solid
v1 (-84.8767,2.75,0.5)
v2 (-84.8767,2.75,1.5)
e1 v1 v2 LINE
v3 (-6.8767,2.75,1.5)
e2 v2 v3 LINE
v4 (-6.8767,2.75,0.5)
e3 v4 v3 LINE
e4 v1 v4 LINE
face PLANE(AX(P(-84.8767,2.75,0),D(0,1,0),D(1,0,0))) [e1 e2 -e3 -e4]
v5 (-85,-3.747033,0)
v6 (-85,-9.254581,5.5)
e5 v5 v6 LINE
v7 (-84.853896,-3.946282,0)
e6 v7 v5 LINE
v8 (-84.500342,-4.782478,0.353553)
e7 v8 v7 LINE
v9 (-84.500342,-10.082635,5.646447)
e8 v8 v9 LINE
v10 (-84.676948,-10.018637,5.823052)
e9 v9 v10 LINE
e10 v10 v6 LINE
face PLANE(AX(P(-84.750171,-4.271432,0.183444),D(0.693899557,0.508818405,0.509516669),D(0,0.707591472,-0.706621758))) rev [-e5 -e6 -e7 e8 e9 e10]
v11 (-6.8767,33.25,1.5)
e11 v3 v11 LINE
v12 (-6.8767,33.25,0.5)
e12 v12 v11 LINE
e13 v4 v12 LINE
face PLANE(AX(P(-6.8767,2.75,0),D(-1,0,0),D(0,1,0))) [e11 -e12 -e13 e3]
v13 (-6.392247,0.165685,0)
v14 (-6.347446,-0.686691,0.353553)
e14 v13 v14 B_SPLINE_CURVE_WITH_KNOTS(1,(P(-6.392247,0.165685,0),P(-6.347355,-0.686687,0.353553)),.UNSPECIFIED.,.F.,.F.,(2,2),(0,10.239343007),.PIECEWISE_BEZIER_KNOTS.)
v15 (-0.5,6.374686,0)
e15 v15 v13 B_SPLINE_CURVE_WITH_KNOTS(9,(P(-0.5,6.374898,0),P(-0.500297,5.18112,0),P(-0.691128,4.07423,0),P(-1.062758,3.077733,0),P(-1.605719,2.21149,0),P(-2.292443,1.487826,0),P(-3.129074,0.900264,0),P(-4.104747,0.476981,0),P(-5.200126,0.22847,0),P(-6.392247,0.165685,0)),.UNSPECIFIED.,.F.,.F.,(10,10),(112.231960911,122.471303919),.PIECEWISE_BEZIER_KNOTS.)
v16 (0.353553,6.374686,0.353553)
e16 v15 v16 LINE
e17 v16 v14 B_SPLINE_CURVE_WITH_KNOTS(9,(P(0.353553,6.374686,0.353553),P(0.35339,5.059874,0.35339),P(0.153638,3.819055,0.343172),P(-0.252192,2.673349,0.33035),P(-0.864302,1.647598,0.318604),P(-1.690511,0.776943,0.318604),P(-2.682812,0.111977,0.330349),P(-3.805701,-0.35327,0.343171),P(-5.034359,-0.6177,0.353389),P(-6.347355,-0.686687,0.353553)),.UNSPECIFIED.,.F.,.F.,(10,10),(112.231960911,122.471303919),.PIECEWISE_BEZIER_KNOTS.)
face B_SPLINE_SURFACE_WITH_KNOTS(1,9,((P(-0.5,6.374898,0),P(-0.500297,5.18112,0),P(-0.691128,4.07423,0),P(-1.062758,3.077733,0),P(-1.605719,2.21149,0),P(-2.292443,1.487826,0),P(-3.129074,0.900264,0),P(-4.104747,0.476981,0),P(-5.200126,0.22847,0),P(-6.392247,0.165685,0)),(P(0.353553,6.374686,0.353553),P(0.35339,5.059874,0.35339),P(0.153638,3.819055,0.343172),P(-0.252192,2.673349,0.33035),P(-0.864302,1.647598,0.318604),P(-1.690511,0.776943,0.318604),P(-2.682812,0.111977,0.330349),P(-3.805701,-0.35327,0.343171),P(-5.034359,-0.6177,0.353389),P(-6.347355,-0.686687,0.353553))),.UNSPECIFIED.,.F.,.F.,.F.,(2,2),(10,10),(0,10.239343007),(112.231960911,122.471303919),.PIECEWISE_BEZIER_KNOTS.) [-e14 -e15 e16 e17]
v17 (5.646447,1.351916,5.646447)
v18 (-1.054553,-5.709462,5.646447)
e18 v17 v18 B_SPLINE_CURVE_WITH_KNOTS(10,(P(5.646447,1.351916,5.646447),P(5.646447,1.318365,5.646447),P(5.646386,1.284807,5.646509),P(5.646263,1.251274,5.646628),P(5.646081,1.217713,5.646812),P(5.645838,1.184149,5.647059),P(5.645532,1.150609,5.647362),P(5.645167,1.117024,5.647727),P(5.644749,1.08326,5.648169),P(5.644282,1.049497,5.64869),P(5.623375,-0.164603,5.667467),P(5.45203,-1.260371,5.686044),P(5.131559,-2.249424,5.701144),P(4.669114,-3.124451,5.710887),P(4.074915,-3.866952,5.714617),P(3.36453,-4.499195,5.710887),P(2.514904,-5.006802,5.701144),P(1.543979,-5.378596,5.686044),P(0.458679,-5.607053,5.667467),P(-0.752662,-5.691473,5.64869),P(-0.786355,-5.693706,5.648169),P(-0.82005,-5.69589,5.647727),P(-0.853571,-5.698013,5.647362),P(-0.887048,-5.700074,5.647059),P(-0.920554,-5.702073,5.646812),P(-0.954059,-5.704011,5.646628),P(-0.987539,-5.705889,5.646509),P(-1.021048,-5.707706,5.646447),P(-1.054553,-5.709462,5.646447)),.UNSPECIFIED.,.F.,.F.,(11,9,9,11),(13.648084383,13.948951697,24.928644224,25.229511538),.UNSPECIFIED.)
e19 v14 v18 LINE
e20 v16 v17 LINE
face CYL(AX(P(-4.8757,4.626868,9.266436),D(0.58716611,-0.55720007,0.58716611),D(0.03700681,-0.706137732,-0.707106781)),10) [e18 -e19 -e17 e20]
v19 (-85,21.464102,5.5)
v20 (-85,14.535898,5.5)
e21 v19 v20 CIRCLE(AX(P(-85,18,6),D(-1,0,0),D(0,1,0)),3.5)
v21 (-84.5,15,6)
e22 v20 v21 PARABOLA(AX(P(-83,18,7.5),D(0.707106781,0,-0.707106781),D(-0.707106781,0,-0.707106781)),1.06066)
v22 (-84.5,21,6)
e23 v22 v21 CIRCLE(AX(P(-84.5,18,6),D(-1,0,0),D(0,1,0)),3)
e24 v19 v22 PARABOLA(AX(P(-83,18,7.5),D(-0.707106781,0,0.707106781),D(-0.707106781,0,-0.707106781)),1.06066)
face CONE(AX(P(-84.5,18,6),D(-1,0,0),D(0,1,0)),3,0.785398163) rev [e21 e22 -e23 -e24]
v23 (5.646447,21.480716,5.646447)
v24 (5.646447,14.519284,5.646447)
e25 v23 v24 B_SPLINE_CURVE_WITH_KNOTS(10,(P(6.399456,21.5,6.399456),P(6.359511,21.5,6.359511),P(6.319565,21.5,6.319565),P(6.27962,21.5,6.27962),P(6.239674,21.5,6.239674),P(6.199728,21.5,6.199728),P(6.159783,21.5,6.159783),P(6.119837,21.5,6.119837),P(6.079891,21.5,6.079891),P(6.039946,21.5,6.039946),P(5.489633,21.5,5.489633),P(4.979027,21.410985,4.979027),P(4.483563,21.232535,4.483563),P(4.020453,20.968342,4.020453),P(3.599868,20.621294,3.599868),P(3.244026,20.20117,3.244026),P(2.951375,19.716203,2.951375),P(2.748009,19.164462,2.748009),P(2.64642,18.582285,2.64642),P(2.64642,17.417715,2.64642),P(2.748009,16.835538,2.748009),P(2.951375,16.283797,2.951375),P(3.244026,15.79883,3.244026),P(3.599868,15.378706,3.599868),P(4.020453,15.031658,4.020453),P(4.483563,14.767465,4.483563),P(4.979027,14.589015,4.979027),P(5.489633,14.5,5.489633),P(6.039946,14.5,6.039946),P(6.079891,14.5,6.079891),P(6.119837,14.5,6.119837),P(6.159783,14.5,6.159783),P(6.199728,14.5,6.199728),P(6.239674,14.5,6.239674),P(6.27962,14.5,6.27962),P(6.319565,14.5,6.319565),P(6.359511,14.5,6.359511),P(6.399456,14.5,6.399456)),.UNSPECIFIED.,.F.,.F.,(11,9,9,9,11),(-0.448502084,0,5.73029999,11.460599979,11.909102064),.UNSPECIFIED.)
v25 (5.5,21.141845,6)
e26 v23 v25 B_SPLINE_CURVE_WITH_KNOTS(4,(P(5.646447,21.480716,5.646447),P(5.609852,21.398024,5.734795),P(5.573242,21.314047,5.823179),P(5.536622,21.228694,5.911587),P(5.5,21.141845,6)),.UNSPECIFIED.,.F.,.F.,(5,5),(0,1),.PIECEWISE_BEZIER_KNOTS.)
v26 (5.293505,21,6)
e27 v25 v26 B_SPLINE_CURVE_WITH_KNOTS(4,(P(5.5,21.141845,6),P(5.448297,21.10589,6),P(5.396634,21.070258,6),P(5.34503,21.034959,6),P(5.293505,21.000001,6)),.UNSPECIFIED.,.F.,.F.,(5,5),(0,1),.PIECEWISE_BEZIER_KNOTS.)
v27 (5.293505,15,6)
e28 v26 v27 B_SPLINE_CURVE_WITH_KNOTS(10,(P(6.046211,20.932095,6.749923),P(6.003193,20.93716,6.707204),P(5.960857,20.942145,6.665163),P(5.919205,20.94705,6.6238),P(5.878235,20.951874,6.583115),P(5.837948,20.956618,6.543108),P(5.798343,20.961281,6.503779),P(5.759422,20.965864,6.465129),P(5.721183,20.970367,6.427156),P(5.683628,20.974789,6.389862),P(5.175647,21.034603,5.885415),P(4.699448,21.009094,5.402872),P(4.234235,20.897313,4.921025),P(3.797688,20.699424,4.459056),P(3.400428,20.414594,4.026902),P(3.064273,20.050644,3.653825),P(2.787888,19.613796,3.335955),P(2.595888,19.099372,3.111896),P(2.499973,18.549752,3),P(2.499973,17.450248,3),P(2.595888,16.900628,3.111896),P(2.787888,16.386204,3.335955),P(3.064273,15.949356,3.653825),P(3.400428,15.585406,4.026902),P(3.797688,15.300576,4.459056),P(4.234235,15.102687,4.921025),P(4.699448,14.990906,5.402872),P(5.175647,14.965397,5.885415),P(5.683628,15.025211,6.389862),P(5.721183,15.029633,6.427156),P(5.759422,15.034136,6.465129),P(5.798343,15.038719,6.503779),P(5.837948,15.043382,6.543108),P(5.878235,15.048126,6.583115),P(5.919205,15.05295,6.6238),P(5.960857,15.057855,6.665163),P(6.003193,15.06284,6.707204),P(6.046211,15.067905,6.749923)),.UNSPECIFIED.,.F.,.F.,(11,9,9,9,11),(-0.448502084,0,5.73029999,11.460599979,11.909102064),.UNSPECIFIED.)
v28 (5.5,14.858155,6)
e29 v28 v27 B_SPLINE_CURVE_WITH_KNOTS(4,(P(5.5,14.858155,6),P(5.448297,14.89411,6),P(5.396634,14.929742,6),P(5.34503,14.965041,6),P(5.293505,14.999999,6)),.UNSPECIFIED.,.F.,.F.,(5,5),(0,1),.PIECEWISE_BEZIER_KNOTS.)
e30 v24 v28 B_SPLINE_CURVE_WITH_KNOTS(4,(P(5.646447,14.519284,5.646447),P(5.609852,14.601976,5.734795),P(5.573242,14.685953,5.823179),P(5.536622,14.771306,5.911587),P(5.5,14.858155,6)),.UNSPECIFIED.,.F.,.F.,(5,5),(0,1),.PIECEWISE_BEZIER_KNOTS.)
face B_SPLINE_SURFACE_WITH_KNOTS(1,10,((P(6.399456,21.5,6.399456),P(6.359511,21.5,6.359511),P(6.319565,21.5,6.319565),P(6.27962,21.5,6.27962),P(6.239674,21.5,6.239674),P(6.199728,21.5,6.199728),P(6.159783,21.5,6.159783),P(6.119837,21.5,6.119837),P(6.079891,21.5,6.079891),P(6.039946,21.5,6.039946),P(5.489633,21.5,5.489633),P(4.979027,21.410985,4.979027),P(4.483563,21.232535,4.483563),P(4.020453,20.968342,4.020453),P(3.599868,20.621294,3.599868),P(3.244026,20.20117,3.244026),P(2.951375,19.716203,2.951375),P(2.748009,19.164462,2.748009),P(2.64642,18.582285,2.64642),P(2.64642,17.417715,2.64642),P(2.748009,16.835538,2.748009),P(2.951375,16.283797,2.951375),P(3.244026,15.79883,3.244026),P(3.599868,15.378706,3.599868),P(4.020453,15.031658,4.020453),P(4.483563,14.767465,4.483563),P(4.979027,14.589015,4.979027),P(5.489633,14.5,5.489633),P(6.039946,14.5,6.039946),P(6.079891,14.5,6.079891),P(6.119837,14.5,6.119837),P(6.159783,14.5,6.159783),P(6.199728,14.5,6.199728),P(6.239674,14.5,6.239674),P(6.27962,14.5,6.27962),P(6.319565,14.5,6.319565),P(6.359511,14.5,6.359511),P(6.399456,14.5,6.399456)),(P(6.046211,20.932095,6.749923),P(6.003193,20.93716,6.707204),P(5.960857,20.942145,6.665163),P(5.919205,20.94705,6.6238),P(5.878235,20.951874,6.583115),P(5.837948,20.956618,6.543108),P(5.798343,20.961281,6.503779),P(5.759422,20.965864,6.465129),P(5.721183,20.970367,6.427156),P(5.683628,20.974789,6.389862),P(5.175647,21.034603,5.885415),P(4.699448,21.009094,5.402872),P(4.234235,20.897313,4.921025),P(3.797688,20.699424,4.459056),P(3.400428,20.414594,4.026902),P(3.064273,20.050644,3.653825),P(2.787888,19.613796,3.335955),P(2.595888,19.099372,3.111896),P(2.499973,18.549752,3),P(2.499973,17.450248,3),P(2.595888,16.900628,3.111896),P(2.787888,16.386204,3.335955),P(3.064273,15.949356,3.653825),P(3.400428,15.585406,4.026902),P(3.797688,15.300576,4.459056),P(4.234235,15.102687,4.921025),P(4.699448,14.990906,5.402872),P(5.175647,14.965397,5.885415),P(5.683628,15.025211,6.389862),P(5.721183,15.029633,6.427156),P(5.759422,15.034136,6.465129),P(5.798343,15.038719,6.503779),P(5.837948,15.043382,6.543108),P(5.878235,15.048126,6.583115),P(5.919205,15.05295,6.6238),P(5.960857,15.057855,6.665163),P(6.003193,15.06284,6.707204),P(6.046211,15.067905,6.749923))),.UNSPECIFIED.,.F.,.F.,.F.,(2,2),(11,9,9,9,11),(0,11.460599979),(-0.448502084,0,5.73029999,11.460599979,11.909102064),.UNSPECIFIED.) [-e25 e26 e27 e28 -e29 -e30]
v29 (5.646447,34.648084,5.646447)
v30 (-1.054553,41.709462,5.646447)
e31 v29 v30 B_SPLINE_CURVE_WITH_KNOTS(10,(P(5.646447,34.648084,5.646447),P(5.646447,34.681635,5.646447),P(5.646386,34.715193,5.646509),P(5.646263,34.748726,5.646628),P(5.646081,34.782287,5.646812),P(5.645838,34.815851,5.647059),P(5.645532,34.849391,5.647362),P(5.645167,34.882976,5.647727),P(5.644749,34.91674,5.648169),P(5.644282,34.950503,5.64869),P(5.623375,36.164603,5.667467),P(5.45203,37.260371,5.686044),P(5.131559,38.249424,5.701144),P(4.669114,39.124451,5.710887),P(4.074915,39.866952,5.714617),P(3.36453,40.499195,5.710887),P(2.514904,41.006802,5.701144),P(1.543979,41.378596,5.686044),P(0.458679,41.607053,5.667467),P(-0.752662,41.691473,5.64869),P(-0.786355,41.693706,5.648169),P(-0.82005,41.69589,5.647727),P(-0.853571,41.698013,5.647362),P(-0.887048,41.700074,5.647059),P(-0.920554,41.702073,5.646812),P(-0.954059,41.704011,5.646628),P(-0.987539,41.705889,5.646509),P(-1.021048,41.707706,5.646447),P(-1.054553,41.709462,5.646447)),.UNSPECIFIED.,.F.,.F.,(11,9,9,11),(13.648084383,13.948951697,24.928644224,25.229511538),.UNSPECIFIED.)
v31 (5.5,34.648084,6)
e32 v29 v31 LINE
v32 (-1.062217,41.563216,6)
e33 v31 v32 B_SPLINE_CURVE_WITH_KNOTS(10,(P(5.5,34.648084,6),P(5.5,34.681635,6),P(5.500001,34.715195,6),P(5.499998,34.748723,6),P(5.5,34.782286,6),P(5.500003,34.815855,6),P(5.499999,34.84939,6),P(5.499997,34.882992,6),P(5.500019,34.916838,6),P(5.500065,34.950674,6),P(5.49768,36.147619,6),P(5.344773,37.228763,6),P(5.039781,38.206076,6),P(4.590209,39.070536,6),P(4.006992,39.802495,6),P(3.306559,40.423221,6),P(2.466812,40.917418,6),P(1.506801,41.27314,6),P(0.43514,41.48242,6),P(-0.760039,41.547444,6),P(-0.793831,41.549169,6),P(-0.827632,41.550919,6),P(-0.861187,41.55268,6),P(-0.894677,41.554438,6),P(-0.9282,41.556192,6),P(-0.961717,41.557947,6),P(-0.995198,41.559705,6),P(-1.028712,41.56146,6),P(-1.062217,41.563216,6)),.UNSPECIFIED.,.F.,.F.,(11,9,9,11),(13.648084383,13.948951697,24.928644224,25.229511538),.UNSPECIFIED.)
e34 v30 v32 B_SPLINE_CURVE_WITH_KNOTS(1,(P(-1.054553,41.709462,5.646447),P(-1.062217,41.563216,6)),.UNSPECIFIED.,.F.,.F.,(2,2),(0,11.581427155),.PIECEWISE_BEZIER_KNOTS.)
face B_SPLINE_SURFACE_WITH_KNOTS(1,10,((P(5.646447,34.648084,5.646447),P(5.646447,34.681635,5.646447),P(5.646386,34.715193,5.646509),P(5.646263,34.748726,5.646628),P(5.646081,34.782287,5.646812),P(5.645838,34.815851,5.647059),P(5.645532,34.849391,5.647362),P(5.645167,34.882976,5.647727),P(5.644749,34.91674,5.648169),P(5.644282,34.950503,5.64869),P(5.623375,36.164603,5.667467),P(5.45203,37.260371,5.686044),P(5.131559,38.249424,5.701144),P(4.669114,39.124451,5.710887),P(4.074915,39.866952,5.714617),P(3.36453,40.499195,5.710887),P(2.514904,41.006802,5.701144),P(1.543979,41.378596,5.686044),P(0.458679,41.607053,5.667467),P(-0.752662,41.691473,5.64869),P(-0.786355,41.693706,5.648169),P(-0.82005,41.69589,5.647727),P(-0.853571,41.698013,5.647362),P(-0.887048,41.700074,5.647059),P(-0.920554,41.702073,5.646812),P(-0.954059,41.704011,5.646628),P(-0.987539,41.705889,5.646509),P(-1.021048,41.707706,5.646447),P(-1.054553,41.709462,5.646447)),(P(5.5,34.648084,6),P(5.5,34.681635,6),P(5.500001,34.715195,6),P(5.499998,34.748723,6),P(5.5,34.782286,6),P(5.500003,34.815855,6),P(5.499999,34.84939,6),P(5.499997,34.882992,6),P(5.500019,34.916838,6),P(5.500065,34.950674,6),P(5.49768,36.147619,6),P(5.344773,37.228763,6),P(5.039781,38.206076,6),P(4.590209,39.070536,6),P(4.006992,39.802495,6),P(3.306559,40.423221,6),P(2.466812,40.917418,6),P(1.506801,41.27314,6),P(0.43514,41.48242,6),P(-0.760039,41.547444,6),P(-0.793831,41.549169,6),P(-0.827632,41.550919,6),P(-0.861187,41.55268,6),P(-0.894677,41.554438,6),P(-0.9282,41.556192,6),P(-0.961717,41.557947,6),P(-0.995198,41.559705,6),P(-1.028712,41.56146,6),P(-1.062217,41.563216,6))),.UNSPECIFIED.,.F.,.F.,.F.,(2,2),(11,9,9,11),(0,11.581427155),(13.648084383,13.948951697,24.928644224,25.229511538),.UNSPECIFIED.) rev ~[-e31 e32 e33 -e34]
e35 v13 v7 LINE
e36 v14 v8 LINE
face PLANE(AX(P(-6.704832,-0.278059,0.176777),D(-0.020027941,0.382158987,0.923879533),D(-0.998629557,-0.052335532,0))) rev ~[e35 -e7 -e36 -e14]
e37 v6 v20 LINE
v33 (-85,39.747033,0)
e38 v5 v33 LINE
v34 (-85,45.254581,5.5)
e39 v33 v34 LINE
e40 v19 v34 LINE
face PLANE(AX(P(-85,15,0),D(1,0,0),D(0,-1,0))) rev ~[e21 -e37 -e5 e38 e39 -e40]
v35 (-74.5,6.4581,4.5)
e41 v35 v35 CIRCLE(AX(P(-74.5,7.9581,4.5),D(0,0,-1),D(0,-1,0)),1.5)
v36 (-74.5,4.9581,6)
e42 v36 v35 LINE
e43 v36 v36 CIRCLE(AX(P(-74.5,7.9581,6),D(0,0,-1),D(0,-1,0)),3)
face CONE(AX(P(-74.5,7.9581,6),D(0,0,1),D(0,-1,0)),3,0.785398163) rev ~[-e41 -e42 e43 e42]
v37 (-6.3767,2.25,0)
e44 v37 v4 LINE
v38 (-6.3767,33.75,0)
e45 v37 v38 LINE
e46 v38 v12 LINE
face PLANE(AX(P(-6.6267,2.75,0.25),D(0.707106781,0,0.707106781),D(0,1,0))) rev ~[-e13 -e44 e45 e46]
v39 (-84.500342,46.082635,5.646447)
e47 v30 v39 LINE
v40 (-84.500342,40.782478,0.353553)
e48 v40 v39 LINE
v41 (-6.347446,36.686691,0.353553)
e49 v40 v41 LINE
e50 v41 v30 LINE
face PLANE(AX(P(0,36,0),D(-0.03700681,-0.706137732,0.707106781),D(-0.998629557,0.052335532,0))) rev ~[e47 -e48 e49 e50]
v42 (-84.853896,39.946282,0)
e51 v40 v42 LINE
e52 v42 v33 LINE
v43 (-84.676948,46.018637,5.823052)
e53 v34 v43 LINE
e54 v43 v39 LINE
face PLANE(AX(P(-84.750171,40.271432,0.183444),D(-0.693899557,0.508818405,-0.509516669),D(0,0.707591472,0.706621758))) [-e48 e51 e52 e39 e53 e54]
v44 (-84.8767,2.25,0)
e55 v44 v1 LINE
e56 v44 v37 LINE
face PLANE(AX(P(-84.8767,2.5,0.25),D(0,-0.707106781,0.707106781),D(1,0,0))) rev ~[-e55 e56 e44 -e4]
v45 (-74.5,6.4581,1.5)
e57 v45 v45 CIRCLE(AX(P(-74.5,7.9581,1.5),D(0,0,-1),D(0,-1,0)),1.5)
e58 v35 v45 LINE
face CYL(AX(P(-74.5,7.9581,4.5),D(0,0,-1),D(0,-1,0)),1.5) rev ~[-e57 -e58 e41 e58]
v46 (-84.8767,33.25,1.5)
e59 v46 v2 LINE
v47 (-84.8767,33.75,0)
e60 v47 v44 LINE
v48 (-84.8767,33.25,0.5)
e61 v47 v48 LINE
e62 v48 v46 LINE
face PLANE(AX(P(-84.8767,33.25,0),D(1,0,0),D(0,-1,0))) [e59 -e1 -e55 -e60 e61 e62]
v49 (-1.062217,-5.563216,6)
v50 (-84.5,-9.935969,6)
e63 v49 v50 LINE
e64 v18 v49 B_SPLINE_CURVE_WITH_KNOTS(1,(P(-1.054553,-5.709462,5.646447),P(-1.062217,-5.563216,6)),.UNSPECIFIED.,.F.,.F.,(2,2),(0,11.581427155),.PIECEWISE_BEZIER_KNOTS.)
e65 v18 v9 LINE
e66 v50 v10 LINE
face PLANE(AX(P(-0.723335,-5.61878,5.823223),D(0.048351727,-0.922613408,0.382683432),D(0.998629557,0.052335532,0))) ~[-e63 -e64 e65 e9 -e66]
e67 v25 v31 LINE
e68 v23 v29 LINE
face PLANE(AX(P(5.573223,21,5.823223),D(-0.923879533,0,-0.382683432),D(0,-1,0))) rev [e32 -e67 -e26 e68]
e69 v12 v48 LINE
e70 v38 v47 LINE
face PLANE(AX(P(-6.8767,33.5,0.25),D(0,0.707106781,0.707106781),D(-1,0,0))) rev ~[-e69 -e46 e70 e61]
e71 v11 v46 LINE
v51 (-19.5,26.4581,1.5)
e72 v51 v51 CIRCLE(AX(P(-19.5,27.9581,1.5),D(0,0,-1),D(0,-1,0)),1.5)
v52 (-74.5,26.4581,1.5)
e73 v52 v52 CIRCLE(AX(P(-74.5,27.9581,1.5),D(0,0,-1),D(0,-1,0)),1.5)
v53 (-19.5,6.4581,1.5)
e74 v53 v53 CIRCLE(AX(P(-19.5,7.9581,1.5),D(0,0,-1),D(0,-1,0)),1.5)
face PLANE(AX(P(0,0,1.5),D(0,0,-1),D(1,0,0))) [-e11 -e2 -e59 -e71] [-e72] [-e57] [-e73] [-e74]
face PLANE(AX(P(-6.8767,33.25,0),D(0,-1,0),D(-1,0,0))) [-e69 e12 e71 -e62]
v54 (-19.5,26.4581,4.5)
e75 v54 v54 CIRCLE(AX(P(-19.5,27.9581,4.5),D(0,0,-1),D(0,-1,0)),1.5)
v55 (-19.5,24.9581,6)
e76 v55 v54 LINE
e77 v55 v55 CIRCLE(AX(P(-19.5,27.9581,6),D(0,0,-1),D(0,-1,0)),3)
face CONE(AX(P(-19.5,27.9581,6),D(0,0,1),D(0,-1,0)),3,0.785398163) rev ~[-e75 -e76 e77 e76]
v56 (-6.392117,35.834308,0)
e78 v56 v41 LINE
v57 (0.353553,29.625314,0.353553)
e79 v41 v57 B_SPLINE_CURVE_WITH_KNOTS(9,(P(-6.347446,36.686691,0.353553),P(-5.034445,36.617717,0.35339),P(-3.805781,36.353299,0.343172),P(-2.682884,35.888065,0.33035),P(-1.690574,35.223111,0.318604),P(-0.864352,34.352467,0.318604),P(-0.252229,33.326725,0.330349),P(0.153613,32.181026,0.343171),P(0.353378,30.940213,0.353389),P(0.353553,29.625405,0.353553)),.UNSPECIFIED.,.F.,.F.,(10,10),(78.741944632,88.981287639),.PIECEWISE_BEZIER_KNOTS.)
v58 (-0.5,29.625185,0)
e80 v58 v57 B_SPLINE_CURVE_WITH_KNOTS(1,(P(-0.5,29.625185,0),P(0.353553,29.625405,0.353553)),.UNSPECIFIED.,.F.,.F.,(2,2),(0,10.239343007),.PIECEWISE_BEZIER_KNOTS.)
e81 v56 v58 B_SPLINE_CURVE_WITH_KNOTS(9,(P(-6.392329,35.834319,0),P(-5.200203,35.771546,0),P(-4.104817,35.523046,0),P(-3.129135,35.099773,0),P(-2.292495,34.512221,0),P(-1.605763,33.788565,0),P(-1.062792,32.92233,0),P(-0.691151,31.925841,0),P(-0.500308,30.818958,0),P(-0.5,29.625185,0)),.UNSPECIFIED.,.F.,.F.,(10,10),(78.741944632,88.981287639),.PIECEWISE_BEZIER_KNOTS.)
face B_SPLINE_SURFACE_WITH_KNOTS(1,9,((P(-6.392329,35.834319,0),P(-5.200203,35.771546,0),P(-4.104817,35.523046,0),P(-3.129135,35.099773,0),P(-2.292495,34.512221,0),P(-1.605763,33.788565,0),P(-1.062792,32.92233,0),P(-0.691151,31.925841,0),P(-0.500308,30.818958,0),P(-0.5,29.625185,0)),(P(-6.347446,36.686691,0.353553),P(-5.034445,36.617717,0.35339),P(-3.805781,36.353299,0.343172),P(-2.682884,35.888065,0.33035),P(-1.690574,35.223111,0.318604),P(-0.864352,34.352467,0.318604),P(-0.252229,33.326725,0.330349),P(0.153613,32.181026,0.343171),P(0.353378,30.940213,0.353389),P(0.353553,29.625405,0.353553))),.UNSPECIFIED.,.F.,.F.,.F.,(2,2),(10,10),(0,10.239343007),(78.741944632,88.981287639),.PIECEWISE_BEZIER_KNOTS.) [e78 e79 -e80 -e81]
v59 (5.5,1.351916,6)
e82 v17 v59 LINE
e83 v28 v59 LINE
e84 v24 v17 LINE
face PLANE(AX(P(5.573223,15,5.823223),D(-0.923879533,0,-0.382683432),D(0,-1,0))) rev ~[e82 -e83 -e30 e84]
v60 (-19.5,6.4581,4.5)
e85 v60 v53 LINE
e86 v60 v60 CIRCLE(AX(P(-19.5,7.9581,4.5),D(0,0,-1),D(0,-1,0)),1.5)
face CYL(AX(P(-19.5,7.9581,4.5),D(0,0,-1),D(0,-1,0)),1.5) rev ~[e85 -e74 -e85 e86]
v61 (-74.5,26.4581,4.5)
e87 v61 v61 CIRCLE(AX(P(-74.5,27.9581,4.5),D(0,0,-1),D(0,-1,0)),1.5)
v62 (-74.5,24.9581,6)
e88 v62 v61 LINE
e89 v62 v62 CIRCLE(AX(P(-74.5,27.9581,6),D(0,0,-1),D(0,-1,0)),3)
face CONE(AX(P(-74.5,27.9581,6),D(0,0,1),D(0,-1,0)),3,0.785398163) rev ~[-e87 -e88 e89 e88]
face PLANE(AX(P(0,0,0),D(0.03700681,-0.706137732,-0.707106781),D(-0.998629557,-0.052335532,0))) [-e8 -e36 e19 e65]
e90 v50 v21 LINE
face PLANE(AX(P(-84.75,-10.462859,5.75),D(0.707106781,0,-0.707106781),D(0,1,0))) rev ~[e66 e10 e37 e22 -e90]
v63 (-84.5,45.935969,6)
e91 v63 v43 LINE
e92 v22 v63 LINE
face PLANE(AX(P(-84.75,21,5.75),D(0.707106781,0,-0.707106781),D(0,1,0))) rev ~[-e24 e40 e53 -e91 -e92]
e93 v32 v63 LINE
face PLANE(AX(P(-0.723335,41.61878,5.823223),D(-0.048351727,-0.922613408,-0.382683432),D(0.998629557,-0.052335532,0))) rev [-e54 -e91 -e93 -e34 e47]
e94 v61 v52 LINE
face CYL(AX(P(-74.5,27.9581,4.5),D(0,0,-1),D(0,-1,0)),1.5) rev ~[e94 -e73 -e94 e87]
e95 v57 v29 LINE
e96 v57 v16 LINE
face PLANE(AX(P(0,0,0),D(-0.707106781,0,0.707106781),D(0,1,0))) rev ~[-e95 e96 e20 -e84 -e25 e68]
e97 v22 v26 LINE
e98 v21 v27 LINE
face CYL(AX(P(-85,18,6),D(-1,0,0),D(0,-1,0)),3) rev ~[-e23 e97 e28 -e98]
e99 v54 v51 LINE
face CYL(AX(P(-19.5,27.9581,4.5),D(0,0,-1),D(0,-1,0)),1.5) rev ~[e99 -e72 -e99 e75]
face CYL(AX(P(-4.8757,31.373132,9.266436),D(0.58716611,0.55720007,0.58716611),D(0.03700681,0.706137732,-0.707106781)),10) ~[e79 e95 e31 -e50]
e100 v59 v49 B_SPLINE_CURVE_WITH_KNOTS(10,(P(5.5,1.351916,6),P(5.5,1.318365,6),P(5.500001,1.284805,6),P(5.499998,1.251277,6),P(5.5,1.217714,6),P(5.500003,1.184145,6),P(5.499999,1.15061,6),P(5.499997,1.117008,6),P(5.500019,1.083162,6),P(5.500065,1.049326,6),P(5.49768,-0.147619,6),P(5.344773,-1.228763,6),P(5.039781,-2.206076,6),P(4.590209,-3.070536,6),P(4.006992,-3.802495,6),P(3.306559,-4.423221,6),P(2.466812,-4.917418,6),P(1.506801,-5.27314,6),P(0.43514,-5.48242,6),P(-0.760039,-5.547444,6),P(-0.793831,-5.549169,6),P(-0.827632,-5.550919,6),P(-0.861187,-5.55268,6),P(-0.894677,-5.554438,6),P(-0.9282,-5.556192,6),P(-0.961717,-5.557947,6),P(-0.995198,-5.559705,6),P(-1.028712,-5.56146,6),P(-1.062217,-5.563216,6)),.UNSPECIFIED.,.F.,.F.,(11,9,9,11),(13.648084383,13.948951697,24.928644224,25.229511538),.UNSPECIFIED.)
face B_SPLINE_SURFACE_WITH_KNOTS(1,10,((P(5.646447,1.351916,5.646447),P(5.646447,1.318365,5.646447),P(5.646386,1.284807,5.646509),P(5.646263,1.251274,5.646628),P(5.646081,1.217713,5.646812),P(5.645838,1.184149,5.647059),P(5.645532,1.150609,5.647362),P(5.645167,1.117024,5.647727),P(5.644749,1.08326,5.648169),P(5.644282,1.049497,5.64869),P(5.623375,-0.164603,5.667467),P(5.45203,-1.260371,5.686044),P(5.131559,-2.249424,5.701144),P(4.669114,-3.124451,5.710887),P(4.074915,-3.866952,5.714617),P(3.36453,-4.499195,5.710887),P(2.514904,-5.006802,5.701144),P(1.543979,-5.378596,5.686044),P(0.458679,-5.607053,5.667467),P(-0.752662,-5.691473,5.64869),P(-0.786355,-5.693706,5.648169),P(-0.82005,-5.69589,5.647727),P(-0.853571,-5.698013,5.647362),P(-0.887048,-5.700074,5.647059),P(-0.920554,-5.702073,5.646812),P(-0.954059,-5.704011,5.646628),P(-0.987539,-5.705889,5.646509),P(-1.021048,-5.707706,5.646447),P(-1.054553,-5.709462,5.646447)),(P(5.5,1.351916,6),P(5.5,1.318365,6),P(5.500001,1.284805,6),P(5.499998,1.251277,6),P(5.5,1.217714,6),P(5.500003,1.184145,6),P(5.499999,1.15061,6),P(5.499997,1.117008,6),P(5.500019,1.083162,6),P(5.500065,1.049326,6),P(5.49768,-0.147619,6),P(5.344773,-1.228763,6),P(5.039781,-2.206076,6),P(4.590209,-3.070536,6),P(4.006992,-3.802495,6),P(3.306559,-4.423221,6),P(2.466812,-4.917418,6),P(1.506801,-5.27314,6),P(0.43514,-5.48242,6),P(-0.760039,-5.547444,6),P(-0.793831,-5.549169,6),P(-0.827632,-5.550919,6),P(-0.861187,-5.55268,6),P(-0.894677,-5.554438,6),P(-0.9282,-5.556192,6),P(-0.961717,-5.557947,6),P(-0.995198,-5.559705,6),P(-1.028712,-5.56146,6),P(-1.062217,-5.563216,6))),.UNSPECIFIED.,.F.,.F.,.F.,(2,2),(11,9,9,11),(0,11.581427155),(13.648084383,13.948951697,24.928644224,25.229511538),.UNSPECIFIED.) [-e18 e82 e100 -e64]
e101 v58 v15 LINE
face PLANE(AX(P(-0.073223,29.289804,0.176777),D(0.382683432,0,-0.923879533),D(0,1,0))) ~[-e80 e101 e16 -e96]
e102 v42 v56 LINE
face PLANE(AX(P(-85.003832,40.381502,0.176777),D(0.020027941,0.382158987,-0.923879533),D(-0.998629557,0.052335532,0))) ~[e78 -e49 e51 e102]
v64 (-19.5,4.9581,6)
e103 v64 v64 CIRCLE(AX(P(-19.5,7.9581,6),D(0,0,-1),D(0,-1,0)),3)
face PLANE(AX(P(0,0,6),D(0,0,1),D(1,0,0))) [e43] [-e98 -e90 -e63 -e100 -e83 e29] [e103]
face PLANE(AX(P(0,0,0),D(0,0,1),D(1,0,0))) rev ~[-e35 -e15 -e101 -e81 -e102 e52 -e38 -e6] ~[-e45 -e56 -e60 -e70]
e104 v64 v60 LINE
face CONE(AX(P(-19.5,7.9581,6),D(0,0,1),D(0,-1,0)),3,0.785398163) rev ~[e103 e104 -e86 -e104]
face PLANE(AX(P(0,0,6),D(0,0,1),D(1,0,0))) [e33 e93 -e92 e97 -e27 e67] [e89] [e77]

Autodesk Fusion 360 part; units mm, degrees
sketch "Sketch1" plane through (0, 0, 0) normal (0, 0, 1) x (1, 0, 0)
  line L0 (0, 0) -> (-89.8767, -4.7102)
  line L1 (0, 0) -> (90, 0) construction
  line L2 (0, 0) -> (0, 36)
  line L3 (0, 36) -> (-89.8767, 40.7102)
  line L4 (0, 36) -> (90, 36) construction
  line L5 (-89.8767, 40.7102) -> (-89.8767, -4.7102)
  dimension "d1" = 177
  dimension "d2" = 90
  dimension "d3" = 36
  dimension "d4" = 177
  dimension "d5" = 90
extrude "Extrude1" add sketch "Sketch1" along normal blind 6 draft 45
fillet "Fillet1" radius 10 2 edges at (3, -2.8469, 3) (3, 38.8469, 3)
sketch "Sketch2" plane through (0, 0, 0) normal (0, 0, -1) x (1, 0, 0)
  ellipse E0 centre (-14.1421, -22.5796) end of major axis (-1.7883, -34.3029) minor radius 10 (-6.701, -36.3512) -> (0, -29.2898) ccw
  line L0 (0, -29.2898) -> (0, -6.7102)
  ellipse E1 centre (-14.1421, -13.4204) end of major axis (-1.7883, -1.6971) minor radius 10 (0, -6.7102) -> (-6.701, 0.3512) ccw
  line L1 (-6.701, 0.3512) -> (-89.8767, 4.7102)
  line L2 (-89.8767, 4.7102) -> (-89.8767, -40.7102)
  line L3 (-89.8767, -40.7102) -> (-6.701, -36.3512)
  line L4 (-89.8767, 4.7102) -> (-89.8767, -18) construction
  line L5 (-89.8767, -18) -> (-45.8767, -18) construction
  line L6 (-6.8767, -33.25) -> (-84.8767, -33.25)
  line L7 (-84.8767, -33.25) -> (-84.8767, -2.75)
  line L8 (-84.8767, -2.75) -> (-6.8767, -2.75)
  line L9 (-6.8767, -2.75) -> (-6.8767, -33.25)
  line L10 (-6.8767, -33.25) -> (-84.8767, -2.75) construction
  line L11 (-84.8767, -33.25) -> (-6.8767, -2.75) construction
  point P0 (-45.8767, -18)
  dimension "d10" = 22.7102
  dimension "d11" = 44
  dimension "d12" = 78
  dimension "d13" = 30.5
extrude "Extrude2" cut sketch "Sketch2" against normal blind 1.5 contours L6 L7 L8 L9
sketch "Sketch3" plane through (0, 0, 0) normal (0, 0, -1) x (1, 0, 0)
  line L0 (-84.8767, -33.25) -> (-84.8767, -2.75)
  line L1 (-84.8767, -2.75) -> (-6.8767, -2.75)
  line L2 (-6.8767, -2.75) -> (-6.8767, -33.25)
  line L3 (-6.8767, -33.25) -> (-84.8767, -33.25)
  ellipse E0 centre (-14.1421, -22.5796) end of major axis (-1.7883, -34.3029) minor radius 10 (-6.701, -36.3512) -> (0, -29.2898) ccw
  line L4 (0, -29.2898) -> (0, -6.7102)
  ellipse E1 centre (-14.1421, -13.4204) end of major axis (-1.7883, -1.6971) minor radius 10 (0, -6.7102) -> (-6.701, 0.3512) ccw
  line L5 (-6.701, 0.3512) -> (-89.8767, 4.7102)
  line L6 (-89.8767, 4.7102) -> (-89.8767, -40.7102)
  line L7 (-89.8767, -40.7102) -> (-6.701, -36.3512)
sketch "Sketch4" plane through (0, 0, 0) normal (0, 0, -1) x (1, 0, 0)
  line L0 (-85, -15) -> (-85, 16.158)
  line L1 (-85, 16.158) -> (-101.3363, 16.158)
  line L2 (-101.3363, 16.158) -> (-101.3363, -48.0286)
  line L3 (-101.3363, -48.0286) -> (-85, -48.0286)
  line L4 (-85, -48.0286) -> (-85, -15)
extrude "Extrude3" cut sketch "Sketch4" against normal blind 15
sketch "Sketch5" plane through (-85, 0, 0) normal (-1, 0, 0) x (0, -1, 0)
  line L0 (4.4547, 0) -> (10.4629, 6)
  line L1 (10.4629, 6) -> (-46.4629, 6)
  line L2 (-46.4629, 6) -> (-40.4547, 0)
  line L3 (-40.4547, 0) -> (4.4547, 0)
  line L4 (-46.4629, 6) -> (-18, 6)
  line L5 (10.4629, 6) -> (-18, 6)
  circle A0 centre (-18, 6) radius 3
  dimension "d18" = 28.4629
  dimension "d19" = 6
extrude "Extrude4" cut sketch "Sketch5" against normal blind 100 contours L1 L4 L5 A0 picked at (-19.9888, 5.851)
chamfer "Chamfer1" distance 0.5 angle 45 10 edges at (-42.8505, -8.2539, 6) (6, 8.0082, 6) (4.2117, -3.9967, 6) (3, 18, 3) (6, 27.9918, 6) (-42.8505, 44.2539, 6) (4.2117, 39.9967, 6) (-85, 33.7314, 6) (-85, 18, 3) (-85, 2.2686, 6)
chamfer "Chamfer2" distance 0.5 angle 45 10 edges at (-1.7883, 34.3029, 0) (-45.8505, 38.4029, 0) (-45.8505, -2.4029, 0) (-1.7883, 1.6971, 0) (0, 18, 0) (-85, -7.2084, 2.75) (-85, 43.2084, 2.75) (-45.8767, 33.25, 0) (-6.8767, 18, 0) (-45.8767, 2.75, 0)
sketch "Sketch6" plane through (0, 0, 6) normal (0, 0, 1) x (-1, 0, 0)
  spline S0 degree 3 poles (-5.2935, -15) (-5.3627, -14.9531) (-5.4315, -14.9058) (-5.5, -14.8582) knots 0 0 0 0 0.025071 0.025071 0.025071 0.025071
  line L0 (-5.2935, -15) -> (84.5, -15)
  line L1 (84.5, -15) -> (84.5, 9.936)
  line L2 (84.5, 9.936) -> (1.0622, 5.5632)
  line L3 (0.7272, 5.5457) -> (1.0622, 5.5632)
  spline S1 degree 3 poles (-5.5, -1.0164) (-5.5, -0.8241) (-5.4943, -0.6349) (-5.4197, 0.5909) (-5.1793, 1.5237) (-4.5302, 2.8177) (-4.2188, 3.2629) (-3.849, 3.6526) (-3.4792, 4.0422) (-3.051, 4.3765) (-1.7926, 5.0924) (-0.8738, 5.3813) (0.3465, 5.52) (0.5351, 5.5356) (0.7272, 5.5457) knots -0.508354 -0.508354 -0.508354 -0.508354 -0.45799 -0.45799 -0.17615 -0.17615 0 0 0 0.17615 0.17615 0.45799 0.45799 0.508354 0.508354 0.508354 0.508354
  line L4 (-5.5, -1.3519) -> (-5.5, -1.0164)
  line L5 (-5.5, -1.3519) -> (-5.5, -14.8582)
  line L6 (82, -17.9581) -> (47, -17.9581) construction
  line L7 (74.5, -7.9581) -> (19.5, -7.9581) construction
  line L8 (19.5, -7.9581) -> (19.5, -27.9581) construction
  line L9 (19.5, -27.9581) -> (74.5, -27.9581) construction
  line L10 (74.5, -27.9581) -> (74.5, -7.9581) construction
  line L11 (74.5, -7.9581) -> (19.5, -27.9581) construction
  line L12 (19.5, -7.9581) -> (74.5, -27.9581) construction
  point P0 (47, -17.9581)
  dimension "d24" = 35
  dimension "d25" = 55
  dimension "d26" = 20
hole "Hole1" at (-19.5, 27.9581, 6) at (-19.5, 7.9581, 6) at (-74.5, 27.9581, 6) at (-74.5, 7.9581, 6) direction (0, 0, -1) diameter 3 depth 10 tip angle 118 countersink diameter 6 countersink angle 90
